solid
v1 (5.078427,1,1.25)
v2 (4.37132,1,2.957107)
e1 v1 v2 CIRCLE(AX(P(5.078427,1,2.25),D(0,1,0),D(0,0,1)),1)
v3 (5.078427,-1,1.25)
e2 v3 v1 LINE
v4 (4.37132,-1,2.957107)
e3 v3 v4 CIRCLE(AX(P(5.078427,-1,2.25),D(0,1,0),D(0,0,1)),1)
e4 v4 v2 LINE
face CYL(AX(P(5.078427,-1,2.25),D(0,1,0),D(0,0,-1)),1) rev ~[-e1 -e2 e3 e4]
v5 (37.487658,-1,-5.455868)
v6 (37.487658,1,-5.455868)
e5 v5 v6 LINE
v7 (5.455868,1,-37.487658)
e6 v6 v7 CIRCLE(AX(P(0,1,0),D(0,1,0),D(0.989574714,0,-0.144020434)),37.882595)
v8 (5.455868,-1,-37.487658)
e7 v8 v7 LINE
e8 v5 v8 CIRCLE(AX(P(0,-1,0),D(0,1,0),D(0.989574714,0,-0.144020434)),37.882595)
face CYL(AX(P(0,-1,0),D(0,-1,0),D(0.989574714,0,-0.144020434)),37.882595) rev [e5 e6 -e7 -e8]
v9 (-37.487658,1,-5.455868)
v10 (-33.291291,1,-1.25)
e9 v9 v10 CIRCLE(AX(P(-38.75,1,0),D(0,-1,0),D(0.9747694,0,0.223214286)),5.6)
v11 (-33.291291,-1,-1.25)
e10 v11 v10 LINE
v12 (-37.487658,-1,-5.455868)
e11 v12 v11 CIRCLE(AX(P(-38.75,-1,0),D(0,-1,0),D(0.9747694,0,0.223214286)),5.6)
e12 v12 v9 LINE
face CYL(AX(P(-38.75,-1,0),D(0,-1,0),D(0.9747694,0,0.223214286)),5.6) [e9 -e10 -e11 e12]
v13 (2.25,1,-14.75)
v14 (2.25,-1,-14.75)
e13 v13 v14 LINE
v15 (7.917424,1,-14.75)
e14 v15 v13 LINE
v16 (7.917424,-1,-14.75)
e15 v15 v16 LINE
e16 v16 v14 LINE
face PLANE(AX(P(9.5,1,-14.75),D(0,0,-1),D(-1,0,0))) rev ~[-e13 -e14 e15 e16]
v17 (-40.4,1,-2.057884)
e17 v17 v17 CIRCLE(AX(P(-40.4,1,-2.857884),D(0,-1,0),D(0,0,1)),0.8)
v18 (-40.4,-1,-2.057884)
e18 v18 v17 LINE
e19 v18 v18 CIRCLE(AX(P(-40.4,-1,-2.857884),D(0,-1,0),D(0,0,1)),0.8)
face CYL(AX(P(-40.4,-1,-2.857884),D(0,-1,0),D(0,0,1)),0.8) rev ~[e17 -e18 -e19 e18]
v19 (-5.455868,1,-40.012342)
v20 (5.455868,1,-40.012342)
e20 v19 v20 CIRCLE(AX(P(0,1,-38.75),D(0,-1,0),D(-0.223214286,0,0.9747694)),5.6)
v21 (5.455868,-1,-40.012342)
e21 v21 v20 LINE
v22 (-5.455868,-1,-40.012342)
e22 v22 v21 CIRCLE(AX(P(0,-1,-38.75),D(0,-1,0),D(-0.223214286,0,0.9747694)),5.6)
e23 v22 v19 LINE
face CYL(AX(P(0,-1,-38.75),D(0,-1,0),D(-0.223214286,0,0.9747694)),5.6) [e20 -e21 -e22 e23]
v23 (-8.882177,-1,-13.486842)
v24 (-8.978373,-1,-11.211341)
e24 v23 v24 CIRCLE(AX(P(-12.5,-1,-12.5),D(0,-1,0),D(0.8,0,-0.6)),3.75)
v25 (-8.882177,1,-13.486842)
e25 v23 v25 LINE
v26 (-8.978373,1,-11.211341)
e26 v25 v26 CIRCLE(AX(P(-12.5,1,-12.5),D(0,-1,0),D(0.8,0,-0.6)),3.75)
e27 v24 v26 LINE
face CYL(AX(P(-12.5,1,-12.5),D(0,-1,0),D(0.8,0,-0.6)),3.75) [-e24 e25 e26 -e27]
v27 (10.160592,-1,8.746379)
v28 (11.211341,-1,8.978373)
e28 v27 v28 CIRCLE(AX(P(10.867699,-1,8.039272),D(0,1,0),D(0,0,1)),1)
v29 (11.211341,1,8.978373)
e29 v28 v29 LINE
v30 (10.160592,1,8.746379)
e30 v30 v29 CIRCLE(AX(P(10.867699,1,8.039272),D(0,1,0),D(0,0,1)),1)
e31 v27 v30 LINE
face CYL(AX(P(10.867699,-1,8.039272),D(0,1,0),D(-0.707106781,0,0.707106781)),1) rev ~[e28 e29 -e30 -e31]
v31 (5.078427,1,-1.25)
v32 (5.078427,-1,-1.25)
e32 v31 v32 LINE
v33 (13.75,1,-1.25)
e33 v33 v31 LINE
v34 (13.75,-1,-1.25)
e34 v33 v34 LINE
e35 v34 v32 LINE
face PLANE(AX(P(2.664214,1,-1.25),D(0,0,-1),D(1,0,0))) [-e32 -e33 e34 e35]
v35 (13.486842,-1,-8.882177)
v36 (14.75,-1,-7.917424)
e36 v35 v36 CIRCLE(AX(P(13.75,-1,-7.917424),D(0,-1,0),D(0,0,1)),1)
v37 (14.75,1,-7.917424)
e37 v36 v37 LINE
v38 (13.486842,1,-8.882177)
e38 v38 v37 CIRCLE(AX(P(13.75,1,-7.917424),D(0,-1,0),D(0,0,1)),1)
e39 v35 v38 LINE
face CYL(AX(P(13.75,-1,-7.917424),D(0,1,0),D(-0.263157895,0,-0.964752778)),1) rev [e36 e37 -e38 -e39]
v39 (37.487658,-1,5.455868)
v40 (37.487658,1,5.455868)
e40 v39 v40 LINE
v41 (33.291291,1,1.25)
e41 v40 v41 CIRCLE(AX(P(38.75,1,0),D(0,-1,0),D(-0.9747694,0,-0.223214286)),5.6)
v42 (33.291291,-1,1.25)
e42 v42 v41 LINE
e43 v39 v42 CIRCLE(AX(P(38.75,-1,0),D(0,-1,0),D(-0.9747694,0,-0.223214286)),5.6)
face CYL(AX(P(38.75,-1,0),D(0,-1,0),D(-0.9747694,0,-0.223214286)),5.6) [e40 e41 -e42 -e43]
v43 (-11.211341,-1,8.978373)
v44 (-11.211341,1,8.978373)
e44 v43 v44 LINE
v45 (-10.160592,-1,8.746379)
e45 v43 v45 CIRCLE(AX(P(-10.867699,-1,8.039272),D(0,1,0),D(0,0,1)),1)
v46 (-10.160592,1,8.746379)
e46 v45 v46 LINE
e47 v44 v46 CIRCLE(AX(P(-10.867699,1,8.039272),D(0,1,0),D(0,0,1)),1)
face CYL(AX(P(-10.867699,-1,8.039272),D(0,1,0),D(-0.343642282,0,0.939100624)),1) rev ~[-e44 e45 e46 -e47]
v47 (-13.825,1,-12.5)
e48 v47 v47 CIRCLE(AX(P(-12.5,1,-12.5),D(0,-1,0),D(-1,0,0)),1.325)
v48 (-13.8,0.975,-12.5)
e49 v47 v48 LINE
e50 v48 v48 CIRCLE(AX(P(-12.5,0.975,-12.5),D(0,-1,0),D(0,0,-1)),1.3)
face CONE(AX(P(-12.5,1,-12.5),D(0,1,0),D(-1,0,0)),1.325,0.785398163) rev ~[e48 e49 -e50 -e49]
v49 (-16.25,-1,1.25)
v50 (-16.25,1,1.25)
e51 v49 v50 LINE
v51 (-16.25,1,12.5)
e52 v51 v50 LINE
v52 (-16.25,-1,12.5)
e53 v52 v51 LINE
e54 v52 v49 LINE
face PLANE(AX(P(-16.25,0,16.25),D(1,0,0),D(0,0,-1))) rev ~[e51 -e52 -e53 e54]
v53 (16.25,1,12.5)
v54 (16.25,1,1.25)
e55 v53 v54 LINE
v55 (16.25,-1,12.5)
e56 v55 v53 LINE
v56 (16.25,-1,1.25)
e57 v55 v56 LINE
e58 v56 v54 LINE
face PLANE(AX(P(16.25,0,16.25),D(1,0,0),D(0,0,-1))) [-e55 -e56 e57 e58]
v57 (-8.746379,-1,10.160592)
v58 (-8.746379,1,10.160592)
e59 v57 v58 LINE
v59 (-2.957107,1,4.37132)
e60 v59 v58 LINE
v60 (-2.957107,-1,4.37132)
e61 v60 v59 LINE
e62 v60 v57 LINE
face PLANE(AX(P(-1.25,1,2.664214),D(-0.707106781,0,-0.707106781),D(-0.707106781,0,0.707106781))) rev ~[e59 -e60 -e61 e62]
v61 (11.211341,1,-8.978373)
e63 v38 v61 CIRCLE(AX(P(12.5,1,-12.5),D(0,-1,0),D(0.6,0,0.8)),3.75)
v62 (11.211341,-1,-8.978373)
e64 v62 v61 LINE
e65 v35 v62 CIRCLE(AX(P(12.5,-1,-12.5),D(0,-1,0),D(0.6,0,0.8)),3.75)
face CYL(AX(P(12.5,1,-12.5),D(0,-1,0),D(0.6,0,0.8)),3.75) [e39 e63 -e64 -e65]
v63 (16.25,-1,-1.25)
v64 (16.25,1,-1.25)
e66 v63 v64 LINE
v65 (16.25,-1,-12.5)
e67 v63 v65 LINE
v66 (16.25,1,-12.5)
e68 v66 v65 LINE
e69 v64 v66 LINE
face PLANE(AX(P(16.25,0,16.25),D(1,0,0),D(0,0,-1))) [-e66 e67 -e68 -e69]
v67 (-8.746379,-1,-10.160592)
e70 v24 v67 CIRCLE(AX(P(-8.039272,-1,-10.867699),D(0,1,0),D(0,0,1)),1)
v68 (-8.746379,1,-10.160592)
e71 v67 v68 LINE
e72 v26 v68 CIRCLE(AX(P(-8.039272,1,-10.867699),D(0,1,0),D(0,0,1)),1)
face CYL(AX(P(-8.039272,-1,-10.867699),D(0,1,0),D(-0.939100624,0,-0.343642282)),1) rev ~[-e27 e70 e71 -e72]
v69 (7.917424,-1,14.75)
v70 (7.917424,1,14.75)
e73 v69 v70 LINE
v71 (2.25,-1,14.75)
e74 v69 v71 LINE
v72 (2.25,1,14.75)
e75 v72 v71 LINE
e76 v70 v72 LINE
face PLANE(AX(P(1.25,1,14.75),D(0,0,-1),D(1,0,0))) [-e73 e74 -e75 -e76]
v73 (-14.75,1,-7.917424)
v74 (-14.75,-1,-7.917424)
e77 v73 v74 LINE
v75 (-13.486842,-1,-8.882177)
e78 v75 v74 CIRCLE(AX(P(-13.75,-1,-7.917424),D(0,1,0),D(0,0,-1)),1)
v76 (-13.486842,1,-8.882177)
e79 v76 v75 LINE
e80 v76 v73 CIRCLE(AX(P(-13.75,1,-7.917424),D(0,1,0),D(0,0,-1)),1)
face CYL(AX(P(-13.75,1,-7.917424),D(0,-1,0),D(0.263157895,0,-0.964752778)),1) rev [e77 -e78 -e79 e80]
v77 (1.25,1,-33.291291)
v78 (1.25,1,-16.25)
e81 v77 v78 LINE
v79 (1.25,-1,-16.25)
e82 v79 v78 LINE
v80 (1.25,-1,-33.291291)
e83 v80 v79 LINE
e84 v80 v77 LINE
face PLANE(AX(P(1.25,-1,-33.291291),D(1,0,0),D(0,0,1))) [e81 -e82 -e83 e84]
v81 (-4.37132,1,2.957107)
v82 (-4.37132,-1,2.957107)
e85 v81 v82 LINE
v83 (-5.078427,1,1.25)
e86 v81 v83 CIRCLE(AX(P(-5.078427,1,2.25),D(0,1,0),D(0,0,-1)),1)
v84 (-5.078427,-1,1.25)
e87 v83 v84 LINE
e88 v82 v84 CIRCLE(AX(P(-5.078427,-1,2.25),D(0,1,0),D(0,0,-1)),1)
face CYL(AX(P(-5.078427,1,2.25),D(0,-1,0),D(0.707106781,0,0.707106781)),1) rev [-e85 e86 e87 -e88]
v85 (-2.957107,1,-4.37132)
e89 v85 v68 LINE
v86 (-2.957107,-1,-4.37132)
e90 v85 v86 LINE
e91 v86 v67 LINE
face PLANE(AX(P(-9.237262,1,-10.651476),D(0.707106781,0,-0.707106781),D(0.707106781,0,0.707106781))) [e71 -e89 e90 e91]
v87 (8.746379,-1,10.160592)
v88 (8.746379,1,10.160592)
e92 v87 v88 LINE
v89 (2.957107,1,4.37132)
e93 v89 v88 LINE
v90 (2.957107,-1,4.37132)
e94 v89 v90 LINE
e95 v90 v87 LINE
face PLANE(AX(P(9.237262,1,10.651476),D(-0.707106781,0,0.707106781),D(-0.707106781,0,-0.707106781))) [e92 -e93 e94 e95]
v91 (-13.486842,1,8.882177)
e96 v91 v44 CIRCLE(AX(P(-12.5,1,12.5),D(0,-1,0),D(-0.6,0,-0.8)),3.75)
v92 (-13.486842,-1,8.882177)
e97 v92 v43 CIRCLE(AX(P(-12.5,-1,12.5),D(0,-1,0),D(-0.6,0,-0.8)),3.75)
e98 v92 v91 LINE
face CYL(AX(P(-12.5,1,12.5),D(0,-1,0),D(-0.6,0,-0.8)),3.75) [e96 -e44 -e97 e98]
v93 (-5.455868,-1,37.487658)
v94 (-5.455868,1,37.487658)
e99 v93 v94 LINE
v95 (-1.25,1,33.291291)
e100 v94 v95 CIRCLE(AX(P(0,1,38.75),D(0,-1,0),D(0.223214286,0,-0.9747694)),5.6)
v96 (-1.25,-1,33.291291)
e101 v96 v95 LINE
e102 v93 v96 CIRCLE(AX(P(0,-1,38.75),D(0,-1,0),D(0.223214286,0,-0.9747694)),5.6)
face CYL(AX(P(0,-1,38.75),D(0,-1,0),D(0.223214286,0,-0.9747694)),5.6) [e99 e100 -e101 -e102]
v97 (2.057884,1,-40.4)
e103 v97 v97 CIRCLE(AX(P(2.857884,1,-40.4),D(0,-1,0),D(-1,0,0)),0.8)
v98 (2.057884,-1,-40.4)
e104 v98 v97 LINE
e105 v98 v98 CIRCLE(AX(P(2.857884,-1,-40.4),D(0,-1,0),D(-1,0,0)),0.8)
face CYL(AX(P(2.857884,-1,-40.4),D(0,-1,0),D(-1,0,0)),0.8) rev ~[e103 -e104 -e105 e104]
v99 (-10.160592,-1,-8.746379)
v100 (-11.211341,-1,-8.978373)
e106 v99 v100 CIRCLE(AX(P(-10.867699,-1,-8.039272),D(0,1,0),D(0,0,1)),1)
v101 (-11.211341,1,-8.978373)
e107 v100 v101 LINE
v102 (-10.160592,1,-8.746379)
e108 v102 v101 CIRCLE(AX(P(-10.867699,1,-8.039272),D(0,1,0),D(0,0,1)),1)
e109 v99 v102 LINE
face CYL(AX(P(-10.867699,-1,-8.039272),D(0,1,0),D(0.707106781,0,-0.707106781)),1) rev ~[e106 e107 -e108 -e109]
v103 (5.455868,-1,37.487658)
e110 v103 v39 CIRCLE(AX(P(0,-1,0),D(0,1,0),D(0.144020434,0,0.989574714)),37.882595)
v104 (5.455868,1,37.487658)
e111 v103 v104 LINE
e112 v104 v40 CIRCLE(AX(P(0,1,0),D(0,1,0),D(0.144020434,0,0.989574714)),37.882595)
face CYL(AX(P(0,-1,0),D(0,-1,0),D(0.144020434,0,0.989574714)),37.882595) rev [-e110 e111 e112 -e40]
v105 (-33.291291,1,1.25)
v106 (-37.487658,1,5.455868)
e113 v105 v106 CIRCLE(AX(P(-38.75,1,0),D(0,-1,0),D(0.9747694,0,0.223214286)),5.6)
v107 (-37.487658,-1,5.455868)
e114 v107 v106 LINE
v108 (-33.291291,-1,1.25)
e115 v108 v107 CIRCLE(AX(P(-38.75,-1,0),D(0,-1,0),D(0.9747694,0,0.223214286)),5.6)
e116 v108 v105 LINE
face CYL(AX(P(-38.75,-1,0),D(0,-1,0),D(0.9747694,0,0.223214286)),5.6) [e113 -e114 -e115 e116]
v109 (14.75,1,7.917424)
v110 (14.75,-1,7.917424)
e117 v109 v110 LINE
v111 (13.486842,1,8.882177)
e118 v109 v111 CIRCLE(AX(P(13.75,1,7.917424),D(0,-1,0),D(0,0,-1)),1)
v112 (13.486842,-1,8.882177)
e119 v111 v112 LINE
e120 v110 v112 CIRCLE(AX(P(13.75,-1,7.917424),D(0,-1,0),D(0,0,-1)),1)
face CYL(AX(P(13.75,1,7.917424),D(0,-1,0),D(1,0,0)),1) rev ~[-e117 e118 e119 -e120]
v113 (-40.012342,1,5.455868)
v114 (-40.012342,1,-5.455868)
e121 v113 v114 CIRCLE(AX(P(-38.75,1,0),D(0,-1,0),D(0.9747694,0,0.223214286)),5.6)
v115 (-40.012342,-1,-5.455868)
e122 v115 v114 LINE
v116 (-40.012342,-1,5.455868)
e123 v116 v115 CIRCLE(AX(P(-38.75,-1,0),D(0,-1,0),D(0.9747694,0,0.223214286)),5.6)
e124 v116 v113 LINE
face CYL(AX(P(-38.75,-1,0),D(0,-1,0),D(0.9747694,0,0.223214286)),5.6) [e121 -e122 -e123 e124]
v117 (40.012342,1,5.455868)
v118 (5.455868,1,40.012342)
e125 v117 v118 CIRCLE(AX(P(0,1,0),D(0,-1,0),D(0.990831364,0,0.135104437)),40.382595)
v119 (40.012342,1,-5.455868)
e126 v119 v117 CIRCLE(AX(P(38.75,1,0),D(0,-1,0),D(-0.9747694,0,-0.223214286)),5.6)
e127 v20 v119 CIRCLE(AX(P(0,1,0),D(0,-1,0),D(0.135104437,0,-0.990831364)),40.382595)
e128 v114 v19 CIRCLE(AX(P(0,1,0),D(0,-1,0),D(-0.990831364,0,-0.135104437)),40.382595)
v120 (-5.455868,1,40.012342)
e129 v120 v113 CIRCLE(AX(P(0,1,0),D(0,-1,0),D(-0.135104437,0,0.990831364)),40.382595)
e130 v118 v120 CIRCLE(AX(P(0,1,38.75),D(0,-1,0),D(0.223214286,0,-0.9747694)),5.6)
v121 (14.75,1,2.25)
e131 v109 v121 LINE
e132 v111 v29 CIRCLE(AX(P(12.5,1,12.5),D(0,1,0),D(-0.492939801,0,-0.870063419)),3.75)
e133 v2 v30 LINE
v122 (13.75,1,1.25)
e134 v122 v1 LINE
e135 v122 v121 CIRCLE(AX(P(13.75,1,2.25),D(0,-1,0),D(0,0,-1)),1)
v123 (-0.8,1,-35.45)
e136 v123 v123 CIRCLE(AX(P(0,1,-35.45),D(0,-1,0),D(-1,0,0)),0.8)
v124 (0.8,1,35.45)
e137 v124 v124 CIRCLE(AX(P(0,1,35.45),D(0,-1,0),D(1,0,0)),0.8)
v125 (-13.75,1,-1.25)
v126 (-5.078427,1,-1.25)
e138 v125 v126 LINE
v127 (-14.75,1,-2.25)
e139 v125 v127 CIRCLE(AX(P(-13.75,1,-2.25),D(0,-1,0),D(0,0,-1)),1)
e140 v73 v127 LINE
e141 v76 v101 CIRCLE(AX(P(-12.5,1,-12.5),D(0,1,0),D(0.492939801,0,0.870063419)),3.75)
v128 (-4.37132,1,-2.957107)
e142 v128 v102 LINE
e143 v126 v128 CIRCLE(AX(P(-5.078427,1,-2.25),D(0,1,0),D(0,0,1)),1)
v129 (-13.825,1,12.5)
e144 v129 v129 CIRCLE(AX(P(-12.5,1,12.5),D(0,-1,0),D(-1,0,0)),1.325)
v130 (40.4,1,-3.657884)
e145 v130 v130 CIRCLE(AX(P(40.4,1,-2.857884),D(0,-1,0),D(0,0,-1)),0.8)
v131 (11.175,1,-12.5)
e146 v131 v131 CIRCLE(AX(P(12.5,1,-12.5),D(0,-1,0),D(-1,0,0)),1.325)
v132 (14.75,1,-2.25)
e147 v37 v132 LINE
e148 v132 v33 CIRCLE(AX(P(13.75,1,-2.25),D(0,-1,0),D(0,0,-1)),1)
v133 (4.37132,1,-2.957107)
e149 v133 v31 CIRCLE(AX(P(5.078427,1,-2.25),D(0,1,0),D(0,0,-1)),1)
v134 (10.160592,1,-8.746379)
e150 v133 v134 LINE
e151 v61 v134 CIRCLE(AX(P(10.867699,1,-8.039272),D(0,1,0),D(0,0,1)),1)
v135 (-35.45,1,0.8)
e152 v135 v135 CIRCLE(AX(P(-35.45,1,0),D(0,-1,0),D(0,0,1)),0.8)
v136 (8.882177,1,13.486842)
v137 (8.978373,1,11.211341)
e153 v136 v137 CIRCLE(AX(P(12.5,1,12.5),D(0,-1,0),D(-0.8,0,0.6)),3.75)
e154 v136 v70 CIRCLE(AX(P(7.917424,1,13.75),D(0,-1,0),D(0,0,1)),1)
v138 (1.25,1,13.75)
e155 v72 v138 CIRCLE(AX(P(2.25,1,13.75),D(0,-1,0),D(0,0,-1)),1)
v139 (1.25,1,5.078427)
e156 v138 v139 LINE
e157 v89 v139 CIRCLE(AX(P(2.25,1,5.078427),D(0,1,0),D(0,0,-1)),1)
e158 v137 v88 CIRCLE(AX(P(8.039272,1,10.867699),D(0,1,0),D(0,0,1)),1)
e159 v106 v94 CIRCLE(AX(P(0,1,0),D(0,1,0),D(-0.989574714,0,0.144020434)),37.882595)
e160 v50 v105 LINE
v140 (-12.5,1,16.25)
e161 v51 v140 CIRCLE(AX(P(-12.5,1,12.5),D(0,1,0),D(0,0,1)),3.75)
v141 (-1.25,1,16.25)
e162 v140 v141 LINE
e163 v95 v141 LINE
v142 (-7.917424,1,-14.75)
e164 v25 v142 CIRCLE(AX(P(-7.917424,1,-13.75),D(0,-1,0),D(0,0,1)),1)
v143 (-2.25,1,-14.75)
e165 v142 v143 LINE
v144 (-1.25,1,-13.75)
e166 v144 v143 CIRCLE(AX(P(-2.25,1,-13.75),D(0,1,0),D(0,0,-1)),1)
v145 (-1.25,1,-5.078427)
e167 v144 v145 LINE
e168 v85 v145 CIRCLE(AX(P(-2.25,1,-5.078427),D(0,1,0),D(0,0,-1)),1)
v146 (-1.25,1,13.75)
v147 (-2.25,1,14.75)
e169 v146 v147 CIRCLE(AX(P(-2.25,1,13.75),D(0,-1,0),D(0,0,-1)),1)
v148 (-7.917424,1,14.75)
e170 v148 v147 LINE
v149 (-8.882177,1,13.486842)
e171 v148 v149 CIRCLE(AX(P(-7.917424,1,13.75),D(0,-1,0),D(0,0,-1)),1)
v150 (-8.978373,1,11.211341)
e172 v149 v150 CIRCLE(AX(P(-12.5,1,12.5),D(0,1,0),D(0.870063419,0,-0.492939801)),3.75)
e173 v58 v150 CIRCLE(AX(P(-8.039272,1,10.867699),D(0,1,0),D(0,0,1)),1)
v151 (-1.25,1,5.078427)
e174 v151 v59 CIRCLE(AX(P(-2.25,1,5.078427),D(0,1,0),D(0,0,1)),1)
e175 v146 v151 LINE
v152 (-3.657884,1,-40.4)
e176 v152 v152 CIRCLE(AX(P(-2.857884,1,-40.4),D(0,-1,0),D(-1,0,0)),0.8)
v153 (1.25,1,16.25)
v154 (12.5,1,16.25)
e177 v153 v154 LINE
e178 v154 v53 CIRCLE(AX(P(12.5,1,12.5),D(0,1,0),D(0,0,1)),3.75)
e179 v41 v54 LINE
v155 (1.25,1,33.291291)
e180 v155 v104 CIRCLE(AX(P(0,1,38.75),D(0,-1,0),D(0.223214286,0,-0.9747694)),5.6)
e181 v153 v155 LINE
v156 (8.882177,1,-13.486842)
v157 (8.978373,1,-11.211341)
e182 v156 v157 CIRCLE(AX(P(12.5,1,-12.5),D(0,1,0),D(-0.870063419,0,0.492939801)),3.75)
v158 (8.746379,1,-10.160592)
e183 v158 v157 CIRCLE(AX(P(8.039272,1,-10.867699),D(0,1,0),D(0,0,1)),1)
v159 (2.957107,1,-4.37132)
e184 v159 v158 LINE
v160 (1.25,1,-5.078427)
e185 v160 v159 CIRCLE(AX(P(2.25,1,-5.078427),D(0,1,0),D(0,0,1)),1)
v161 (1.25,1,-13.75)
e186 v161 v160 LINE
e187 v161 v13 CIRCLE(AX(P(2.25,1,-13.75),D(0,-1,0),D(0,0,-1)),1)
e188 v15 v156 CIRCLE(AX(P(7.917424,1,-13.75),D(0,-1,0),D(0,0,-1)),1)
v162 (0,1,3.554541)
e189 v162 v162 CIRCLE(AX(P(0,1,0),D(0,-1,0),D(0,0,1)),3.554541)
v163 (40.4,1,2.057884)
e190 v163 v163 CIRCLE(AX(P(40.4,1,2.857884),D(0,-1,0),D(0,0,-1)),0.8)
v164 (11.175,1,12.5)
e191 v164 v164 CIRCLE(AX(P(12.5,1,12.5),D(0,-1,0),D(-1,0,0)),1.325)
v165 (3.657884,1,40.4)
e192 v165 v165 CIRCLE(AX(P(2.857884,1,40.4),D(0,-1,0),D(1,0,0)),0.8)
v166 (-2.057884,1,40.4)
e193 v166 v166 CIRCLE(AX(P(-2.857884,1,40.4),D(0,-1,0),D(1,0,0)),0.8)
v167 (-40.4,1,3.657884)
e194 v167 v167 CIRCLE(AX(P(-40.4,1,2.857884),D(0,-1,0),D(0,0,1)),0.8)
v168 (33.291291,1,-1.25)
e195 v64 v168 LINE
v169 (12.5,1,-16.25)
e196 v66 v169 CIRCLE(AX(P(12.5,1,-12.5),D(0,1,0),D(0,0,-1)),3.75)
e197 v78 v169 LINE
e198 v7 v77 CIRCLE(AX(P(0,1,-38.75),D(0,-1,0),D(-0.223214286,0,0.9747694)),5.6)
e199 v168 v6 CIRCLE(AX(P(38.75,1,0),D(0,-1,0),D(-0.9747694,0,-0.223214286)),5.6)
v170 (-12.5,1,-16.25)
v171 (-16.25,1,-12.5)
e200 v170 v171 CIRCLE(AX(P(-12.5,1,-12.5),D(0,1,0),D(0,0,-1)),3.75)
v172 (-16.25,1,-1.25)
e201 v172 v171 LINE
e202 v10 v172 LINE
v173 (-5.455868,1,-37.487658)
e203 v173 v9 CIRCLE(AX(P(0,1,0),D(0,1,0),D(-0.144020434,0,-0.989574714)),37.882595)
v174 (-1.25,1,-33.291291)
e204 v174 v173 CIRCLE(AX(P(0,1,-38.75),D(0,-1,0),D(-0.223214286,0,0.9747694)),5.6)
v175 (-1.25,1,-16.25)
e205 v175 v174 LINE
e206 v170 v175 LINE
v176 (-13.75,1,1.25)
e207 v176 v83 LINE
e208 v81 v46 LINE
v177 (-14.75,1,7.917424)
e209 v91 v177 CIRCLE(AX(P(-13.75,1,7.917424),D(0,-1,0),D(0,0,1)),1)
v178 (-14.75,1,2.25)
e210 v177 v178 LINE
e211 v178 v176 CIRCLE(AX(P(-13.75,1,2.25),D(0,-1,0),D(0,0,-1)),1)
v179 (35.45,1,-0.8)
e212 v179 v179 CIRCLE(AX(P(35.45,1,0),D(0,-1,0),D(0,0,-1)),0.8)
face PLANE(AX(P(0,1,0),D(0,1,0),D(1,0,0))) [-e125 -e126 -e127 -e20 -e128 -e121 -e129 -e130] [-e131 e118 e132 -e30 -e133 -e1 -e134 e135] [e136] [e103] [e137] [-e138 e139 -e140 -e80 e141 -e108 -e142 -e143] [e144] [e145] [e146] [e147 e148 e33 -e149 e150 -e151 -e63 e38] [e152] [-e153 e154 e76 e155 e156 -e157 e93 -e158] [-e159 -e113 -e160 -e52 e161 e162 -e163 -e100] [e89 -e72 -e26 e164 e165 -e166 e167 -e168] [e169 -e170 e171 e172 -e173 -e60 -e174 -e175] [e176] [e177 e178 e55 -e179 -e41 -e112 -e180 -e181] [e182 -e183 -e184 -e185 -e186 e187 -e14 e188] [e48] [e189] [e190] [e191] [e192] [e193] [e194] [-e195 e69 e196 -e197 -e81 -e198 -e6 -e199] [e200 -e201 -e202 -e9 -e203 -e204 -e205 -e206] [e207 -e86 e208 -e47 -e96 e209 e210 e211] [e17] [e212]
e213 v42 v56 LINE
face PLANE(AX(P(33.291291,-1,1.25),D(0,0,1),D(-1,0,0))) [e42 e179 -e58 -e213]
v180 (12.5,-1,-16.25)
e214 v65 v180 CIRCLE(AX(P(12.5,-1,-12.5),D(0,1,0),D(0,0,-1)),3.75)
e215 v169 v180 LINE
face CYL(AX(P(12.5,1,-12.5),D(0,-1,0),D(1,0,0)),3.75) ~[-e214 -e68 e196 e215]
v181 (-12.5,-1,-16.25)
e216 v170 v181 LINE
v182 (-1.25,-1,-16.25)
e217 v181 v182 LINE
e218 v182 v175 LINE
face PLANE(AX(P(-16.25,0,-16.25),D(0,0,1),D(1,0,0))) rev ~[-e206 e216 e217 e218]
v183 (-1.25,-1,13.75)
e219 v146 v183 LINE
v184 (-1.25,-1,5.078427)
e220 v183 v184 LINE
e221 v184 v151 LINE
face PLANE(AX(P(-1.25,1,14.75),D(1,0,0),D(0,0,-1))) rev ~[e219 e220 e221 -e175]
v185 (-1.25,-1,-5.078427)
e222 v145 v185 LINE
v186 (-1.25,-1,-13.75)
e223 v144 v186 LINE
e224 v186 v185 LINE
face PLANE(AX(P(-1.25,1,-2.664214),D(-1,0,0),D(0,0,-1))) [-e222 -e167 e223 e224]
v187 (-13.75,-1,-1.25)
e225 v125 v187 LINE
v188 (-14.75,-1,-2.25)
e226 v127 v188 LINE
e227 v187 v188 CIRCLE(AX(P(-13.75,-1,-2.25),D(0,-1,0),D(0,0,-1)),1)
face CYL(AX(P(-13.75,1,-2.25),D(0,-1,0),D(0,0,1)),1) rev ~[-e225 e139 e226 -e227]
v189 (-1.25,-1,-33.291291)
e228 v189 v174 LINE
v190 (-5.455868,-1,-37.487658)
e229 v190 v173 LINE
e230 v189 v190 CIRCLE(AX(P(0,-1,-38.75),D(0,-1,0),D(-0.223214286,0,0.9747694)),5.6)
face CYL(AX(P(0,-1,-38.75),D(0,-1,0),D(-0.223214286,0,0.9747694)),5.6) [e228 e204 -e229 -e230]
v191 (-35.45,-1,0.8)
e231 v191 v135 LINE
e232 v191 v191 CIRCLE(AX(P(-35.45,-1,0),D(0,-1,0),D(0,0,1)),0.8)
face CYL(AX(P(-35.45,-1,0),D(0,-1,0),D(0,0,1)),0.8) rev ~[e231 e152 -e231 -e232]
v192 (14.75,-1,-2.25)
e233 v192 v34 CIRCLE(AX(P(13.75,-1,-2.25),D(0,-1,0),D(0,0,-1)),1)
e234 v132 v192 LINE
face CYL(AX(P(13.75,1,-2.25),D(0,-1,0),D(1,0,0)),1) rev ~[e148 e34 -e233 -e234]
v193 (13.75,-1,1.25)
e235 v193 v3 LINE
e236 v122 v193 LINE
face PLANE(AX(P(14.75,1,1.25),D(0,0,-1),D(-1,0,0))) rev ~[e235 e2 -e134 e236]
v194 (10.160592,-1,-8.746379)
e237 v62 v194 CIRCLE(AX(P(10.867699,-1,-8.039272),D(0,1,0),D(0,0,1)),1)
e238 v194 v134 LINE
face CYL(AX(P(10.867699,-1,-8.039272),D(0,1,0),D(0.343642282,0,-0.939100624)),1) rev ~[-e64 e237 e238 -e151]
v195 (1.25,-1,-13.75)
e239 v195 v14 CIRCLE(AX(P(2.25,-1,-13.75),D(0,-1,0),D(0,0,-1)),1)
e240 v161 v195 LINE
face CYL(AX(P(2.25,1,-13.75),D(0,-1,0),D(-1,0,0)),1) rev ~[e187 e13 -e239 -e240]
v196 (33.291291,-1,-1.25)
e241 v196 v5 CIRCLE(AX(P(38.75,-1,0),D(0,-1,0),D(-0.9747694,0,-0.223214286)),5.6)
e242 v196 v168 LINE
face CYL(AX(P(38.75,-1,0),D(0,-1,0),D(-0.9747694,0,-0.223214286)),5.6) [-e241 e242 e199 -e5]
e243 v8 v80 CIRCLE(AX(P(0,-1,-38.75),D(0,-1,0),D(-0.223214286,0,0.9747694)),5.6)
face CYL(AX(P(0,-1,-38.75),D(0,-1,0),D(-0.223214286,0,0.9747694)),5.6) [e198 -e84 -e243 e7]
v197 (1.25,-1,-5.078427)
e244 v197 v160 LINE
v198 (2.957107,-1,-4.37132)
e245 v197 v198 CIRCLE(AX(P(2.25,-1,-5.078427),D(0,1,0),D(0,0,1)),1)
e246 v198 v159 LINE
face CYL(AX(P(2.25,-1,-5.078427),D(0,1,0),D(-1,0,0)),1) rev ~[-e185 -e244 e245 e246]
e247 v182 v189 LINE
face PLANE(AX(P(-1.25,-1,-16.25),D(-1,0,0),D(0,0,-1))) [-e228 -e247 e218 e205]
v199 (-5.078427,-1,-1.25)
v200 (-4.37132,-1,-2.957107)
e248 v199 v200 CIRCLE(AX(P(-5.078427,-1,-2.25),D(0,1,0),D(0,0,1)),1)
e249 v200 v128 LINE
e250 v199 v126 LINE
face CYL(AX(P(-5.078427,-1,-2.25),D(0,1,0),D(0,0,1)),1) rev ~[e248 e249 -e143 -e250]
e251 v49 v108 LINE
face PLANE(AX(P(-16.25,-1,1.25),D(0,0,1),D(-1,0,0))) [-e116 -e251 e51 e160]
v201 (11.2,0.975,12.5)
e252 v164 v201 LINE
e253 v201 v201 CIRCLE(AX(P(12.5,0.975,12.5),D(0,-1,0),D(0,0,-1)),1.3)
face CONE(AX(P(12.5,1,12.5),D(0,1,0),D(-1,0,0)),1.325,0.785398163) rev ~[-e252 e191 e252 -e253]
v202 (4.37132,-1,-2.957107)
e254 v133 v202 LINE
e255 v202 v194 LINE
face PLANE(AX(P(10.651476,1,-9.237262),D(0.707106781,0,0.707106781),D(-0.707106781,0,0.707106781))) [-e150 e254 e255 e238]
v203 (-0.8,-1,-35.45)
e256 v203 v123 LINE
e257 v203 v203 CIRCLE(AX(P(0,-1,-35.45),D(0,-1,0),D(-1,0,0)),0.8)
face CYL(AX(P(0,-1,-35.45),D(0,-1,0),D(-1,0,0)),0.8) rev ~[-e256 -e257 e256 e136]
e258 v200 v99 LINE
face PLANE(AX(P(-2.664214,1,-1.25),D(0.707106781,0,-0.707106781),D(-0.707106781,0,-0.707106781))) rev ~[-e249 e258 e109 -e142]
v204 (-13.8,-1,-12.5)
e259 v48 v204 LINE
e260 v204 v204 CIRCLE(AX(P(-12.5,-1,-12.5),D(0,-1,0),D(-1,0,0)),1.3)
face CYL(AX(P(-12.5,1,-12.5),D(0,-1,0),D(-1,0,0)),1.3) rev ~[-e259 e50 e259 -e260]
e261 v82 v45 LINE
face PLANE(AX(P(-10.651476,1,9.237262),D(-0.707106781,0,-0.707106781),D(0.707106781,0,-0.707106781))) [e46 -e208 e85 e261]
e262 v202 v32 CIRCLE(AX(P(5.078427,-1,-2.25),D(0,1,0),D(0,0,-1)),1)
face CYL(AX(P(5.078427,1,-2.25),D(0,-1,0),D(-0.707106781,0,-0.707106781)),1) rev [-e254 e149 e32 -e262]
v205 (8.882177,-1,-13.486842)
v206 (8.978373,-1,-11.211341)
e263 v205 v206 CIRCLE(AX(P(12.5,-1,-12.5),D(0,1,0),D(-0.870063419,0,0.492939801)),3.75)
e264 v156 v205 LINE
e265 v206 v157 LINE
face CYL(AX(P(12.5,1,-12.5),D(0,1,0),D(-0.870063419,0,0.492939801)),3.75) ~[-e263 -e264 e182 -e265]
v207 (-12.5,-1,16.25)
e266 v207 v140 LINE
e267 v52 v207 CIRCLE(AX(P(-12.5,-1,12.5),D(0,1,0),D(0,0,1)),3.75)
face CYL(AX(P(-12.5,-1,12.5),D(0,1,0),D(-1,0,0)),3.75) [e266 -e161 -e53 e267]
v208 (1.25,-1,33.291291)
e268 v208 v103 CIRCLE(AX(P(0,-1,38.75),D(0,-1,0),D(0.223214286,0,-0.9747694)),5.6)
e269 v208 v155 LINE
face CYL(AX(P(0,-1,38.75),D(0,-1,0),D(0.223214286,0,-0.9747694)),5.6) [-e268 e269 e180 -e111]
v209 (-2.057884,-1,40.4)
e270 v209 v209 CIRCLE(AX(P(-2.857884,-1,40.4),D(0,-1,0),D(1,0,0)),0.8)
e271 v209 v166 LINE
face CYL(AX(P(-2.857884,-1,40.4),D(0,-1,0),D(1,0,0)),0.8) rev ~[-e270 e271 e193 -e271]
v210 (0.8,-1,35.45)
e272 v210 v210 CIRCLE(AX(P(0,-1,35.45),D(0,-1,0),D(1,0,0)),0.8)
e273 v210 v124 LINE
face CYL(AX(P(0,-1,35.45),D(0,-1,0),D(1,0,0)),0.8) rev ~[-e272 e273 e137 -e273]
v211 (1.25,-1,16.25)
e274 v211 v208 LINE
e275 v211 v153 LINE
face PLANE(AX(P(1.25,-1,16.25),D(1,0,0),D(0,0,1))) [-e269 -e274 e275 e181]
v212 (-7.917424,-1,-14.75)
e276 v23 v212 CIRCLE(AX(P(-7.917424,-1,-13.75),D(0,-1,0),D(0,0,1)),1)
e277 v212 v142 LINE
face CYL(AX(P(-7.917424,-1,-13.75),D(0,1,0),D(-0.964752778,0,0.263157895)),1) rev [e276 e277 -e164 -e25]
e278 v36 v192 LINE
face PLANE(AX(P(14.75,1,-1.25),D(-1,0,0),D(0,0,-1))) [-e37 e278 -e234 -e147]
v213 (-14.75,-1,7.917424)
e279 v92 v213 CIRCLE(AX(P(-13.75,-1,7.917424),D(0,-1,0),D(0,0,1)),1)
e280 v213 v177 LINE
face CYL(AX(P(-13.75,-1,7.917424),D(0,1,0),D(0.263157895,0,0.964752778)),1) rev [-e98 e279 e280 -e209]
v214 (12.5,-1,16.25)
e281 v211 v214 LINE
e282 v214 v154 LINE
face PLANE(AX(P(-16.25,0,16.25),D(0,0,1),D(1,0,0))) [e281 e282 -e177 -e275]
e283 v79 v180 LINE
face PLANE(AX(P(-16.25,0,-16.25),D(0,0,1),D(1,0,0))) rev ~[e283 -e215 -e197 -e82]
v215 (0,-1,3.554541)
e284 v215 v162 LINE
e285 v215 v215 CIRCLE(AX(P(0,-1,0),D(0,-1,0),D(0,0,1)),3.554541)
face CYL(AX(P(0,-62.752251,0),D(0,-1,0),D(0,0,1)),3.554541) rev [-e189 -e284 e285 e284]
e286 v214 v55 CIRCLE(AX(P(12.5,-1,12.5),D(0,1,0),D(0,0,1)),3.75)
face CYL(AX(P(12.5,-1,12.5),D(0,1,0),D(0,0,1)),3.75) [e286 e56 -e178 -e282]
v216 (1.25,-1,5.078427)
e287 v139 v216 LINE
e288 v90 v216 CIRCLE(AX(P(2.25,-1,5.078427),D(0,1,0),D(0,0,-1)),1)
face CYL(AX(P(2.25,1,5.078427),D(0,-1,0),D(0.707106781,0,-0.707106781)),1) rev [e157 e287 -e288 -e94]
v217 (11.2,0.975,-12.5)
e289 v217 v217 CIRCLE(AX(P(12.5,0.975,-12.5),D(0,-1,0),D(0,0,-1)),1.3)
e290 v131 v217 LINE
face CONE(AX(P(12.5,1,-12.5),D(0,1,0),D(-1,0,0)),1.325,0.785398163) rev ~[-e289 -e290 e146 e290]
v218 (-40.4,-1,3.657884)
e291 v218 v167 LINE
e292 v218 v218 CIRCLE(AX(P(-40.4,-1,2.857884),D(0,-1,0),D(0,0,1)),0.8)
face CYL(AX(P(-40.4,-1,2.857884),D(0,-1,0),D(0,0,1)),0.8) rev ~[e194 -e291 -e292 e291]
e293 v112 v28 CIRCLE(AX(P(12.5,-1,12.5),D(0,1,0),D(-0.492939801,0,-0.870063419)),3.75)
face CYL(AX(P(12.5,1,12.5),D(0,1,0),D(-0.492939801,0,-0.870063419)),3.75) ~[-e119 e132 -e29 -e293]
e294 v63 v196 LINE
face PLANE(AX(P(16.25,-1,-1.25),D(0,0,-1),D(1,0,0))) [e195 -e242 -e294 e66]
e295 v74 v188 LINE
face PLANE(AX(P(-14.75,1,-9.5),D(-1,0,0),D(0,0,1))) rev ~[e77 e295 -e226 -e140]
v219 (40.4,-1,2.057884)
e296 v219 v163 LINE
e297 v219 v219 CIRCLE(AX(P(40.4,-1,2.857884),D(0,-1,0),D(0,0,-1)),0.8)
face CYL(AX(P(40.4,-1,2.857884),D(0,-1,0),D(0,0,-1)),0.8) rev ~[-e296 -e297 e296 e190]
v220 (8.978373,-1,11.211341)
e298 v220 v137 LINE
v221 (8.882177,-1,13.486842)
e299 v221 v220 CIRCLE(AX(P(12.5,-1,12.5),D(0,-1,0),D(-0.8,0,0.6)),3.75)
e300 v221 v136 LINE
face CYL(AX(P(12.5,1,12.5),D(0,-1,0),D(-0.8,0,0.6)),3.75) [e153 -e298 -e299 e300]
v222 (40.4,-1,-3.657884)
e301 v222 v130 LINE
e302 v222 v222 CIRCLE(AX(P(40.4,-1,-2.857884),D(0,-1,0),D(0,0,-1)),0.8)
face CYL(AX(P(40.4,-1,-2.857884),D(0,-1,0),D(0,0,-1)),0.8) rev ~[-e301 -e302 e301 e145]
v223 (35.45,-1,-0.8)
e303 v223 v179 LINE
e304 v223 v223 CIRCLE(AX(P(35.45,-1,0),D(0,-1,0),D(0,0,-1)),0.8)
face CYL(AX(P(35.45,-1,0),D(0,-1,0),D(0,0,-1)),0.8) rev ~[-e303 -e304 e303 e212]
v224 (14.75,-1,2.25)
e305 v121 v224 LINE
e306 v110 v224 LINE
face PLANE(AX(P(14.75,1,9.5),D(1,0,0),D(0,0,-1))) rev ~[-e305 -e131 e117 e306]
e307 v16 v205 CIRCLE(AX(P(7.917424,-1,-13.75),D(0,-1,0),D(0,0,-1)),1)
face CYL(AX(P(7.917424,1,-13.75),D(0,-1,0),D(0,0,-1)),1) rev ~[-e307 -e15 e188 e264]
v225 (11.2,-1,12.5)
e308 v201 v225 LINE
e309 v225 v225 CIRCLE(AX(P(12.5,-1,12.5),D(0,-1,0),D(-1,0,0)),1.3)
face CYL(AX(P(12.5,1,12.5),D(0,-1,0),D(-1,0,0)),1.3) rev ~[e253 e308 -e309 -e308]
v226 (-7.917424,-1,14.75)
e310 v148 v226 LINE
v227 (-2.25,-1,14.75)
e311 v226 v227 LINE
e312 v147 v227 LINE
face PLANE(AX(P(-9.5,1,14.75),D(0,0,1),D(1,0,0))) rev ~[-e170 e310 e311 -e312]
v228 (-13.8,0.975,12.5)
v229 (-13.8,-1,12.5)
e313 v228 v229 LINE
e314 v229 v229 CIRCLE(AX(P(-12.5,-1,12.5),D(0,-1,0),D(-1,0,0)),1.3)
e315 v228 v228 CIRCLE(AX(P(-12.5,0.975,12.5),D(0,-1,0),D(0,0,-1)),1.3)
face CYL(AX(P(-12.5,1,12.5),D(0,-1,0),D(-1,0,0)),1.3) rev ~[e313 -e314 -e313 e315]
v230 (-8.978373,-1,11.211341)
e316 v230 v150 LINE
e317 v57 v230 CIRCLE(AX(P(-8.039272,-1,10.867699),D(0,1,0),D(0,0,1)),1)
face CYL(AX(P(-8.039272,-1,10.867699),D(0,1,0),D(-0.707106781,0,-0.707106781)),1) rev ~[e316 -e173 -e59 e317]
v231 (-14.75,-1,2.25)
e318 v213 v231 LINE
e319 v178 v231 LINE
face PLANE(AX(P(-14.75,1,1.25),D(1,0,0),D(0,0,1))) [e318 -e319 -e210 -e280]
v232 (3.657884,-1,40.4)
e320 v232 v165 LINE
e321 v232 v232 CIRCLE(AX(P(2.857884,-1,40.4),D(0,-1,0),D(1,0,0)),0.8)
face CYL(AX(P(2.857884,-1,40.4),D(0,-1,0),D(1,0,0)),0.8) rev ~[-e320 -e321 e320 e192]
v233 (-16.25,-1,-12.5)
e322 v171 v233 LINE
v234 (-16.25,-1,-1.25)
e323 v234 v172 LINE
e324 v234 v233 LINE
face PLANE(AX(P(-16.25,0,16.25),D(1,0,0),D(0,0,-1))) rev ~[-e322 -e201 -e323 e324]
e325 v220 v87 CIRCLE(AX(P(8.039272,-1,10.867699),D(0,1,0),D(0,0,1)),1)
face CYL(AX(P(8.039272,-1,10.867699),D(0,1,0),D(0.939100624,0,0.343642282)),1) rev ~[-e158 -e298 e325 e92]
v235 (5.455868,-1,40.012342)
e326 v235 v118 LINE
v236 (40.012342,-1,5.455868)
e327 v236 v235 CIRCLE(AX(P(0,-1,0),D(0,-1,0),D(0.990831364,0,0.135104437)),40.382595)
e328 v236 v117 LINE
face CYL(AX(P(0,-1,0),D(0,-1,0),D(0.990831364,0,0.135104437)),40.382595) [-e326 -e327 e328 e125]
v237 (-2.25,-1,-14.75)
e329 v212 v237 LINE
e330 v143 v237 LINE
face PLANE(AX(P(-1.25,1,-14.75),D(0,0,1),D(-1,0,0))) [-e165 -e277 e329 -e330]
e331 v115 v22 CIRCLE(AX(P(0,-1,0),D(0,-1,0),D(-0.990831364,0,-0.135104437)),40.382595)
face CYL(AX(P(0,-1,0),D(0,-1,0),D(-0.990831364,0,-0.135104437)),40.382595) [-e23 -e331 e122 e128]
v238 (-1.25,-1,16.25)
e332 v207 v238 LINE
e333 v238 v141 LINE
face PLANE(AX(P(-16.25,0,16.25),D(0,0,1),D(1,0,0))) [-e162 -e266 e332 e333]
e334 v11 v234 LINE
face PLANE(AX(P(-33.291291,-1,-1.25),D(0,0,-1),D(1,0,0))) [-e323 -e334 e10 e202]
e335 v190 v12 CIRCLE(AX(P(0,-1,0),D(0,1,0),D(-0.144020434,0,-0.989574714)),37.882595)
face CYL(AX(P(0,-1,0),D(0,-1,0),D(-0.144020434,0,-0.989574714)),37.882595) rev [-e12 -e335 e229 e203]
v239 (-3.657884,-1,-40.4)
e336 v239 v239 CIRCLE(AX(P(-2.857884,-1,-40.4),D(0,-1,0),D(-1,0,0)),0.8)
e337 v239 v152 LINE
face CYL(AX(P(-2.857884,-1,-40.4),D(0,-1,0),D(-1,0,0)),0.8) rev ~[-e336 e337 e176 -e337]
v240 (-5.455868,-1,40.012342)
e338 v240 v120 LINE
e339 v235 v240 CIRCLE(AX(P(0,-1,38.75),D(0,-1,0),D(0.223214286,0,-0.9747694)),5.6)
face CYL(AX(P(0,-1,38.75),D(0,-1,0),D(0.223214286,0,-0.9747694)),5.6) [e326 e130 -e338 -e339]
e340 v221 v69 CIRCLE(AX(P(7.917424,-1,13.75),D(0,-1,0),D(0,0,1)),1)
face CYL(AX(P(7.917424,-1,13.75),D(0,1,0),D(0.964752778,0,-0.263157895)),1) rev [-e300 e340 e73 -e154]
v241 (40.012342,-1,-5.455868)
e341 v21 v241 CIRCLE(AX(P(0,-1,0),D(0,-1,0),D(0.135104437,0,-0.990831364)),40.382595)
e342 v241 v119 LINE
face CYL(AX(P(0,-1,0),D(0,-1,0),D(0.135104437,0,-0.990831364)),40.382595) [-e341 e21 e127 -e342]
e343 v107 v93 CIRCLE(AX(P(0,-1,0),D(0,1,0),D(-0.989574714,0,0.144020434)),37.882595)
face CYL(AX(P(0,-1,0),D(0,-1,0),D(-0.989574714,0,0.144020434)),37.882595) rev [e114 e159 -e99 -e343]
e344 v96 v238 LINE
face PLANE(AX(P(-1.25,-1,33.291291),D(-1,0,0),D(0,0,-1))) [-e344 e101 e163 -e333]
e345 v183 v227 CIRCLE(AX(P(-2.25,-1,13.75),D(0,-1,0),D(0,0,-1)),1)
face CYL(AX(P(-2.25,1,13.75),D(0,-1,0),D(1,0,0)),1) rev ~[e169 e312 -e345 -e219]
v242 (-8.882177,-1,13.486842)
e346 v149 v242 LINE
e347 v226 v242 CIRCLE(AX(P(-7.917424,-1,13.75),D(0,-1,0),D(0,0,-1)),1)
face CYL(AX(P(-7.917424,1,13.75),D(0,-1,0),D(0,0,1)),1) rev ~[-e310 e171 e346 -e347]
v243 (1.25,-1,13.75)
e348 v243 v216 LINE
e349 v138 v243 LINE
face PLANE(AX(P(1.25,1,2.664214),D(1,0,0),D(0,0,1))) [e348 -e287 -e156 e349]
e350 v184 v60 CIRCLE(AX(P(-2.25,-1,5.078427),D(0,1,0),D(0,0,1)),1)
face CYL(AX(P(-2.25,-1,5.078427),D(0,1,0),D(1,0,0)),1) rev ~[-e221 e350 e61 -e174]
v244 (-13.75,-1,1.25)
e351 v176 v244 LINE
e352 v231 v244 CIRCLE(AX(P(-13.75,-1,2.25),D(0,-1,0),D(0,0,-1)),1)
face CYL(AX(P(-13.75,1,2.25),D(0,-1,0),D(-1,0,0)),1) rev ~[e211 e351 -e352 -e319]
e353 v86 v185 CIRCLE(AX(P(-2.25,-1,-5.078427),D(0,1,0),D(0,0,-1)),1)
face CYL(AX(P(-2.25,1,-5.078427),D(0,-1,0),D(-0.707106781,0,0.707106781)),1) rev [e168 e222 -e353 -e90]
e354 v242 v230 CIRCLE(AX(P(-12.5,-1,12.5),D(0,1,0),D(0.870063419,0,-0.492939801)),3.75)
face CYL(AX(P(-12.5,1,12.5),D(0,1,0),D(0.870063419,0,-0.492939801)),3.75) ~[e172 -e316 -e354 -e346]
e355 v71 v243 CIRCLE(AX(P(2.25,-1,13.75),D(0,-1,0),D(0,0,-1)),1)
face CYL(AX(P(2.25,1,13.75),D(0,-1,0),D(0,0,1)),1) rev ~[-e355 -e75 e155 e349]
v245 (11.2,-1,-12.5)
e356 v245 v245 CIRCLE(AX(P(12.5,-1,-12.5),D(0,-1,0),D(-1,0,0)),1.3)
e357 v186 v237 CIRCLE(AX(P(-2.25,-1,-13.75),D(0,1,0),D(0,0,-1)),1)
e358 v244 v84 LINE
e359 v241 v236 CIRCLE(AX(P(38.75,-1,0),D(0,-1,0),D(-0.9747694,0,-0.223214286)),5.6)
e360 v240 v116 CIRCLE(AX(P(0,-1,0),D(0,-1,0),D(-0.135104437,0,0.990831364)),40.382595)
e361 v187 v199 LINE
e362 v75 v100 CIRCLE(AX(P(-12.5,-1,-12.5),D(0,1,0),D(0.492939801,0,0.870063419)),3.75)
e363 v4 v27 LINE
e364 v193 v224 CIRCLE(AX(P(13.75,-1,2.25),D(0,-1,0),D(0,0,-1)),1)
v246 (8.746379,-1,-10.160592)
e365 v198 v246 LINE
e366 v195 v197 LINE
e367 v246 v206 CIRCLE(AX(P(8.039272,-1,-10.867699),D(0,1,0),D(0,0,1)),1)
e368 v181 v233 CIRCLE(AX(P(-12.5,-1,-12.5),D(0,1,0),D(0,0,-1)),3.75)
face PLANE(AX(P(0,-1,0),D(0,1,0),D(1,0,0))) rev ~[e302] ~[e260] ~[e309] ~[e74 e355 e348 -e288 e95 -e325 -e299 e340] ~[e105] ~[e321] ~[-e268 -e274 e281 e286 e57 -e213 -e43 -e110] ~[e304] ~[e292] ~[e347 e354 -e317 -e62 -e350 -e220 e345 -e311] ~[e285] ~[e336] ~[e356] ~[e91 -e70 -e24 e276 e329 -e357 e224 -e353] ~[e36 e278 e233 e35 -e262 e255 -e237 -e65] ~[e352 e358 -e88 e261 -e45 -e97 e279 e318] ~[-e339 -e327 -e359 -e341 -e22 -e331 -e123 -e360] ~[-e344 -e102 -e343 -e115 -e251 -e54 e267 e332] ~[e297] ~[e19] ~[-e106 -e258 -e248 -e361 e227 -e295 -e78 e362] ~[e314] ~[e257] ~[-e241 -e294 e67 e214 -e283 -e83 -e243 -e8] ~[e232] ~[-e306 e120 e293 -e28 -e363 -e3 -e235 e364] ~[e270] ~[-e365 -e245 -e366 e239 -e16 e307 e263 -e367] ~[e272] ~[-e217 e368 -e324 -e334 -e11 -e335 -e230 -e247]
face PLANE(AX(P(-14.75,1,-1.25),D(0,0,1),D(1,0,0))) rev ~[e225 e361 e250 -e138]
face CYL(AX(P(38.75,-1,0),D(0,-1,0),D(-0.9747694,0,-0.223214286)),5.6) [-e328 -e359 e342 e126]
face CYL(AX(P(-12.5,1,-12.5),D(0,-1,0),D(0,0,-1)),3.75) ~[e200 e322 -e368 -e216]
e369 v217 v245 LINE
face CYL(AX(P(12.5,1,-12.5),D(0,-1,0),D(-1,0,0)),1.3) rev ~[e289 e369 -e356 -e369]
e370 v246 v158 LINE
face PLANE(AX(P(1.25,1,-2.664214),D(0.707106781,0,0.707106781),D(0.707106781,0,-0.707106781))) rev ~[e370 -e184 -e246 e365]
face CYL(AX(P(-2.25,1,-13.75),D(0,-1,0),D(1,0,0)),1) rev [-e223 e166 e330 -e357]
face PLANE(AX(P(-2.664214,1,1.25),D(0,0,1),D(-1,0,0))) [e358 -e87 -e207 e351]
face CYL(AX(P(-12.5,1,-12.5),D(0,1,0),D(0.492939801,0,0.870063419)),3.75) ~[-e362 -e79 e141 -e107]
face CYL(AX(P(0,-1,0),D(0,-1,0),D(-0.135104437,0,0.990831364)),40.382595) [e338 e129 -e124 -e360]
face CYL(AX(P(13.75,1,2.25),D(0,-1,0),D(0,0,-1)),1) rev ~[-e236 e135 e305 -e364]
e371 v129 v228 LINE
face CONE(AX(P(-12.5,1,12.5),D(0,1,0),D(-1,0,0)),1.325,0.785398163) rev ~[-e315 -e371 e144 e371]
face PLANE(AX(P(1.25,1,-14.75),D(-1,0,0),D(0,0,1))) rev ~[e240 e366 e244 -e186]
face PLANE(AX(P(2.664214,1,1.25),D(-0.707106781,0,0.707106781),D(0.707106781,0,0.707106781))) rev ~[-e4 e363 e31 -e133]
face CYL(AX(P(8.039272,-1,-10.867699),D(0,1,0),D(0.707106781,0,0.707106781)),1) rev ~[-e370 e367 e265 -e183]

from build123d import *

# Parameters (mm, degrees)
SKETCH1_W                      = 32.5
SKETCH1_H                      = 32.5
BOSS_EXTRUDE1_DEPTH            = 1
M2_CLEARANCE_HOLE1_D           = 2.6
M2_CLEARANCE_HOLE1_CSINK_D     = 2.65
M2_CLEARANCE_HOLE1_CSINK_ANGLE = 90
SKETCH7_R                      = 0.8
BOSS_EXTRUDE2_DEPTH            = 2
CIRPATTERN1_COUNT              = 4
BOSS_EXTRUDE3_DEPTH            = 2
CIRPATTERN3_COUNT              = 4
CUT_EXTRUDE2_DEPTH             = 63.752250956
CIRPATTERN4_COUNT              = 4
FILLET2_R                      = 1
CUT_EXTRUDE3_DEPTH             = 63.752250956
CUT_EXTRUDE3_DEPTH_BACK        = 63.752250956
SKETCH15_R                     = 3.554540671
FILLET1_R                      = 3.75


with BuildPart() as part:
    # Sketch1 → Boss-Extrude1 (new, symmetric)
    with BuildSketch(Plane(origin=(0, 0, 0), x_dir=(1, 0, 0), z_dir=(0, 1, 0))):
        Rectangle(SKETCH1_W, SKETCH1_H)
    extrude(amount=BOSS_EXTRUDE1_DEPTH, both=True)

    # M2 Clearance Hole1 (through all)
    with Locations(Plane(origin=(0, 1, 0), x_dir=(1, 0, 0), z_dir=(0, 1, 0))):
        with Locations((-12.5, -12.5), (-12.5, 12.5), (12.5, -12.5), (12.5, 12.5)):
            CounterSinkHole(M2_CLEARANCE_HOLE1_D / 2, M2_CLEARANCE_HOLE1_CSINK_D / 2, counter_sink_angle=M2_CLEARANCE_HOLE1_CSINK_ANGLE)

    # Sketch7 → Boss-Extrude2 (add)
    with BuildSketch(Plane.XZ.offset(1)):
        with BuildLine():
            Line((16.25, -1.25), (33.291291362, -1.25))
            ThreePointArc((33.291291362, -1.25), (44.35, 0), (33.291291362, 1.25))
            Line((33.291291362, 1.25), (16.25, 1.25))
            Line((16.25, 1.25), (16.25, -1.25))
        make_face()
        with Locations(Location((40.4, 2.857883832, 0), (0, 0, 270))):
            Circle(SKETCH7_R, mode=Mode.SUBTRACT)
        with Locations(Location((40.4, -2.857883832, 0), (0, 0, 270))):
            Circle(SKETCH7_R, mode=Mode.SUBTRACT)
        with Locations(Location((35.45, 0, 0), (0, 0, 270))):
            Circle(SKETCH7_R, mode=Mode.SUBTRACT)
    boss_extrude2 = extrude(amount=-BOSS_EXTRUDE2_DEPTH)

    # CirPattern1: Boss-Extrude2 ×4 about axis
    cirpattern1_axis = Axis((0, 0, 0), (0, 1, 0))
    for i in range(1, CIRPATTERN1_COUNT):
        add(boss_extrude2.rotate(cirpattern1_axis, i * 360 / CIRPATTERN1_COUNT))

    # Sketch13 → Boss-Extrude3 (add)
    with BuildSketch(Plane.XZ.offset(1)):
        with BuildLine():
            ThreePointArc((-5.45586778, -37.487658222), (-26.787039891, -26.787039891), (-37.487658222, -5.45586778))
            ThreePointArc((-37.487658222, -5.45586778), (-38.75, -5.6), (-40.012341778, -5.45586778))
            ThreePointArc((-40.012341778, -5.45586778), (-28.554806844, -28.554806844), (-5.45586778, -40.012341778))
            ThreePointArc((-5.45586778, -40.012341778), (-5.6, -38.75), (-5.45586778, -37.487658222))
        make_face()
    boss_extrude3 = extrude(amount=-BOSS_EXTRUDE3_DEPTH)

    # CirPattern3: Boss-Extrude3 ×4 about axis
    cirpattern3_axis = Axis((0, 0, 0), (0, -1, 0))
    for i in range(1, CIRPATTERN3_COUNT):
        add(boss_extrude3.rotate(cirpattern3_axis, i * 360 / CIRPATTERN3_COUNT))

    # Sketch14 → Cut-Extrude2 (cut, symmetric)
    with BuildSketch(Plane(origin=(0, 1, 0), x_dir=(1, 0, 0), z_dir=(0, 1, 0))):
        with BuildLine():
            Line((-14.75, -1.25), (-14.75, -9.5))
            ThreePointArc((-14.75, -9.5), (-12.739903071, -8.757681666), (-10.651475744, -9.237262181))
            Line((-10.651475744, -9.237262181), (-2.664213562, -1.25))
            Line((-2.664213562, -1.25), (-14.75, -1.25))
        make_face()
        with BuildLine():
            Line((-1.25, -14.75), (-1.25, -2.664213562))
            Line((-1.25, -2.664213562), (-9.237262181, -10.651475744))
            ThreePointArc((-9.237262181, -10.651475744), (-8.757681666, -12.739903071), (-9.5, -14.75))
            Line((-9.5, -14.75), (-1.25, -14.75))
        make_face()
    cut_extrude2 = extrude(amount=CUT_EXTRUDE2_DEPTH, both=True, mode=Mode.SUBTRACT)

    # CirPattern4: Cut-Extrude2 ×4 about axis
    cirpattern4_axis = Axis((0, 0, 0), (0, 1, 0))
    for i in range(1, CIRPATTERN4_COUNT):
        add(cut_extrude2.rotate(cirpattern4_axis, i * 360 / CIRPATTERN4_COUNT), mode=Mode.SUBTRACT)

    # Fillet2
    fillet2_edges = [part.edges().sort_by_distance(p)[0] for p in [
        (1.25, 0, 14.75),
        (9.5, 0, 14.75),
        (9.237262181, 0, 10.651475744),
        (1.25, 0, 2.664213562),
        (10.651475744, 0, 9.237262181),
        (14.75, 0, 9.5),
        (14.75, 0, 1.25),
        (2.664213562, 0, 1.25),
        (14.75, 0, -1.25),
        (9.237262181, 0, -10.651475744),
        (1.25, 0, -2.664213562),
        (2.664213562, 0, -1.25),
        (10.651475744, 0, -9.237262181),
        (14.75, 0, -9.5),
        (9.5, 0, -14.75),
        (1.25, 0, -14.75),
        (-10.651475744, 0, 9.237262181),
        (-2.664213562, 0, -1.25),
        (-9.237262181, 0, -10.651475744),
        (-1.25, 0, 14.75),
        (-14.75, 0, 9.5),
        (-14.75, 0, 1.25),
        (-9.237262181, 0, 10.651475744),
        (-9.5, 0, 14.75),
        (-10.651475744, 0, -9.237262181),
        (-1.25, 0, 2.664213562),
        (-2.664213562, 0, 1.25),
        (-1.25, 0, -14.75),
        (-14.75, 0, -1.25),
        (-1.25, 0, -2.664213562),
        (-14.75, 0, -9.5),
        (-9.5, 0, -14.75),
    ]]
    fillet(fillet2_edges, radius=FILLET2_R)

    # Sketch15 → Cut-Extrude3 (cut, two sides: drawn at the far end of the back side and taken through both)
    with BuildSketch(Plane(origin=(0, 1, 0), x_dir=(1, 0, 0), z_dir=(0, 1, 0)).offset(-CUT_EXTRUDE3_DEPTH_BACK)):
        with Locations(Location((0, 0, 0), (0, 0, 270))):
            Circle(SKETCH15_R)
    extrude(amount=CUT_EXTRUDE3_DEPTH + CUT_EXTRUDE3_DEPTH_BACK, mode=Mode.SUBTRACT)

    # Fillet1
    fillet1_edges = [part.edges().sort_by_distance(p)[0] for p in [
        (-16.25, 0, -16.25),
        (16.25, 0, -16.25),
        (16.25, 0, 16.25),
        (-16.25, 0, 16.25),
    ]]
    fillet(fillet1_edges, radius=FILLET1_R)


solid = part.part
